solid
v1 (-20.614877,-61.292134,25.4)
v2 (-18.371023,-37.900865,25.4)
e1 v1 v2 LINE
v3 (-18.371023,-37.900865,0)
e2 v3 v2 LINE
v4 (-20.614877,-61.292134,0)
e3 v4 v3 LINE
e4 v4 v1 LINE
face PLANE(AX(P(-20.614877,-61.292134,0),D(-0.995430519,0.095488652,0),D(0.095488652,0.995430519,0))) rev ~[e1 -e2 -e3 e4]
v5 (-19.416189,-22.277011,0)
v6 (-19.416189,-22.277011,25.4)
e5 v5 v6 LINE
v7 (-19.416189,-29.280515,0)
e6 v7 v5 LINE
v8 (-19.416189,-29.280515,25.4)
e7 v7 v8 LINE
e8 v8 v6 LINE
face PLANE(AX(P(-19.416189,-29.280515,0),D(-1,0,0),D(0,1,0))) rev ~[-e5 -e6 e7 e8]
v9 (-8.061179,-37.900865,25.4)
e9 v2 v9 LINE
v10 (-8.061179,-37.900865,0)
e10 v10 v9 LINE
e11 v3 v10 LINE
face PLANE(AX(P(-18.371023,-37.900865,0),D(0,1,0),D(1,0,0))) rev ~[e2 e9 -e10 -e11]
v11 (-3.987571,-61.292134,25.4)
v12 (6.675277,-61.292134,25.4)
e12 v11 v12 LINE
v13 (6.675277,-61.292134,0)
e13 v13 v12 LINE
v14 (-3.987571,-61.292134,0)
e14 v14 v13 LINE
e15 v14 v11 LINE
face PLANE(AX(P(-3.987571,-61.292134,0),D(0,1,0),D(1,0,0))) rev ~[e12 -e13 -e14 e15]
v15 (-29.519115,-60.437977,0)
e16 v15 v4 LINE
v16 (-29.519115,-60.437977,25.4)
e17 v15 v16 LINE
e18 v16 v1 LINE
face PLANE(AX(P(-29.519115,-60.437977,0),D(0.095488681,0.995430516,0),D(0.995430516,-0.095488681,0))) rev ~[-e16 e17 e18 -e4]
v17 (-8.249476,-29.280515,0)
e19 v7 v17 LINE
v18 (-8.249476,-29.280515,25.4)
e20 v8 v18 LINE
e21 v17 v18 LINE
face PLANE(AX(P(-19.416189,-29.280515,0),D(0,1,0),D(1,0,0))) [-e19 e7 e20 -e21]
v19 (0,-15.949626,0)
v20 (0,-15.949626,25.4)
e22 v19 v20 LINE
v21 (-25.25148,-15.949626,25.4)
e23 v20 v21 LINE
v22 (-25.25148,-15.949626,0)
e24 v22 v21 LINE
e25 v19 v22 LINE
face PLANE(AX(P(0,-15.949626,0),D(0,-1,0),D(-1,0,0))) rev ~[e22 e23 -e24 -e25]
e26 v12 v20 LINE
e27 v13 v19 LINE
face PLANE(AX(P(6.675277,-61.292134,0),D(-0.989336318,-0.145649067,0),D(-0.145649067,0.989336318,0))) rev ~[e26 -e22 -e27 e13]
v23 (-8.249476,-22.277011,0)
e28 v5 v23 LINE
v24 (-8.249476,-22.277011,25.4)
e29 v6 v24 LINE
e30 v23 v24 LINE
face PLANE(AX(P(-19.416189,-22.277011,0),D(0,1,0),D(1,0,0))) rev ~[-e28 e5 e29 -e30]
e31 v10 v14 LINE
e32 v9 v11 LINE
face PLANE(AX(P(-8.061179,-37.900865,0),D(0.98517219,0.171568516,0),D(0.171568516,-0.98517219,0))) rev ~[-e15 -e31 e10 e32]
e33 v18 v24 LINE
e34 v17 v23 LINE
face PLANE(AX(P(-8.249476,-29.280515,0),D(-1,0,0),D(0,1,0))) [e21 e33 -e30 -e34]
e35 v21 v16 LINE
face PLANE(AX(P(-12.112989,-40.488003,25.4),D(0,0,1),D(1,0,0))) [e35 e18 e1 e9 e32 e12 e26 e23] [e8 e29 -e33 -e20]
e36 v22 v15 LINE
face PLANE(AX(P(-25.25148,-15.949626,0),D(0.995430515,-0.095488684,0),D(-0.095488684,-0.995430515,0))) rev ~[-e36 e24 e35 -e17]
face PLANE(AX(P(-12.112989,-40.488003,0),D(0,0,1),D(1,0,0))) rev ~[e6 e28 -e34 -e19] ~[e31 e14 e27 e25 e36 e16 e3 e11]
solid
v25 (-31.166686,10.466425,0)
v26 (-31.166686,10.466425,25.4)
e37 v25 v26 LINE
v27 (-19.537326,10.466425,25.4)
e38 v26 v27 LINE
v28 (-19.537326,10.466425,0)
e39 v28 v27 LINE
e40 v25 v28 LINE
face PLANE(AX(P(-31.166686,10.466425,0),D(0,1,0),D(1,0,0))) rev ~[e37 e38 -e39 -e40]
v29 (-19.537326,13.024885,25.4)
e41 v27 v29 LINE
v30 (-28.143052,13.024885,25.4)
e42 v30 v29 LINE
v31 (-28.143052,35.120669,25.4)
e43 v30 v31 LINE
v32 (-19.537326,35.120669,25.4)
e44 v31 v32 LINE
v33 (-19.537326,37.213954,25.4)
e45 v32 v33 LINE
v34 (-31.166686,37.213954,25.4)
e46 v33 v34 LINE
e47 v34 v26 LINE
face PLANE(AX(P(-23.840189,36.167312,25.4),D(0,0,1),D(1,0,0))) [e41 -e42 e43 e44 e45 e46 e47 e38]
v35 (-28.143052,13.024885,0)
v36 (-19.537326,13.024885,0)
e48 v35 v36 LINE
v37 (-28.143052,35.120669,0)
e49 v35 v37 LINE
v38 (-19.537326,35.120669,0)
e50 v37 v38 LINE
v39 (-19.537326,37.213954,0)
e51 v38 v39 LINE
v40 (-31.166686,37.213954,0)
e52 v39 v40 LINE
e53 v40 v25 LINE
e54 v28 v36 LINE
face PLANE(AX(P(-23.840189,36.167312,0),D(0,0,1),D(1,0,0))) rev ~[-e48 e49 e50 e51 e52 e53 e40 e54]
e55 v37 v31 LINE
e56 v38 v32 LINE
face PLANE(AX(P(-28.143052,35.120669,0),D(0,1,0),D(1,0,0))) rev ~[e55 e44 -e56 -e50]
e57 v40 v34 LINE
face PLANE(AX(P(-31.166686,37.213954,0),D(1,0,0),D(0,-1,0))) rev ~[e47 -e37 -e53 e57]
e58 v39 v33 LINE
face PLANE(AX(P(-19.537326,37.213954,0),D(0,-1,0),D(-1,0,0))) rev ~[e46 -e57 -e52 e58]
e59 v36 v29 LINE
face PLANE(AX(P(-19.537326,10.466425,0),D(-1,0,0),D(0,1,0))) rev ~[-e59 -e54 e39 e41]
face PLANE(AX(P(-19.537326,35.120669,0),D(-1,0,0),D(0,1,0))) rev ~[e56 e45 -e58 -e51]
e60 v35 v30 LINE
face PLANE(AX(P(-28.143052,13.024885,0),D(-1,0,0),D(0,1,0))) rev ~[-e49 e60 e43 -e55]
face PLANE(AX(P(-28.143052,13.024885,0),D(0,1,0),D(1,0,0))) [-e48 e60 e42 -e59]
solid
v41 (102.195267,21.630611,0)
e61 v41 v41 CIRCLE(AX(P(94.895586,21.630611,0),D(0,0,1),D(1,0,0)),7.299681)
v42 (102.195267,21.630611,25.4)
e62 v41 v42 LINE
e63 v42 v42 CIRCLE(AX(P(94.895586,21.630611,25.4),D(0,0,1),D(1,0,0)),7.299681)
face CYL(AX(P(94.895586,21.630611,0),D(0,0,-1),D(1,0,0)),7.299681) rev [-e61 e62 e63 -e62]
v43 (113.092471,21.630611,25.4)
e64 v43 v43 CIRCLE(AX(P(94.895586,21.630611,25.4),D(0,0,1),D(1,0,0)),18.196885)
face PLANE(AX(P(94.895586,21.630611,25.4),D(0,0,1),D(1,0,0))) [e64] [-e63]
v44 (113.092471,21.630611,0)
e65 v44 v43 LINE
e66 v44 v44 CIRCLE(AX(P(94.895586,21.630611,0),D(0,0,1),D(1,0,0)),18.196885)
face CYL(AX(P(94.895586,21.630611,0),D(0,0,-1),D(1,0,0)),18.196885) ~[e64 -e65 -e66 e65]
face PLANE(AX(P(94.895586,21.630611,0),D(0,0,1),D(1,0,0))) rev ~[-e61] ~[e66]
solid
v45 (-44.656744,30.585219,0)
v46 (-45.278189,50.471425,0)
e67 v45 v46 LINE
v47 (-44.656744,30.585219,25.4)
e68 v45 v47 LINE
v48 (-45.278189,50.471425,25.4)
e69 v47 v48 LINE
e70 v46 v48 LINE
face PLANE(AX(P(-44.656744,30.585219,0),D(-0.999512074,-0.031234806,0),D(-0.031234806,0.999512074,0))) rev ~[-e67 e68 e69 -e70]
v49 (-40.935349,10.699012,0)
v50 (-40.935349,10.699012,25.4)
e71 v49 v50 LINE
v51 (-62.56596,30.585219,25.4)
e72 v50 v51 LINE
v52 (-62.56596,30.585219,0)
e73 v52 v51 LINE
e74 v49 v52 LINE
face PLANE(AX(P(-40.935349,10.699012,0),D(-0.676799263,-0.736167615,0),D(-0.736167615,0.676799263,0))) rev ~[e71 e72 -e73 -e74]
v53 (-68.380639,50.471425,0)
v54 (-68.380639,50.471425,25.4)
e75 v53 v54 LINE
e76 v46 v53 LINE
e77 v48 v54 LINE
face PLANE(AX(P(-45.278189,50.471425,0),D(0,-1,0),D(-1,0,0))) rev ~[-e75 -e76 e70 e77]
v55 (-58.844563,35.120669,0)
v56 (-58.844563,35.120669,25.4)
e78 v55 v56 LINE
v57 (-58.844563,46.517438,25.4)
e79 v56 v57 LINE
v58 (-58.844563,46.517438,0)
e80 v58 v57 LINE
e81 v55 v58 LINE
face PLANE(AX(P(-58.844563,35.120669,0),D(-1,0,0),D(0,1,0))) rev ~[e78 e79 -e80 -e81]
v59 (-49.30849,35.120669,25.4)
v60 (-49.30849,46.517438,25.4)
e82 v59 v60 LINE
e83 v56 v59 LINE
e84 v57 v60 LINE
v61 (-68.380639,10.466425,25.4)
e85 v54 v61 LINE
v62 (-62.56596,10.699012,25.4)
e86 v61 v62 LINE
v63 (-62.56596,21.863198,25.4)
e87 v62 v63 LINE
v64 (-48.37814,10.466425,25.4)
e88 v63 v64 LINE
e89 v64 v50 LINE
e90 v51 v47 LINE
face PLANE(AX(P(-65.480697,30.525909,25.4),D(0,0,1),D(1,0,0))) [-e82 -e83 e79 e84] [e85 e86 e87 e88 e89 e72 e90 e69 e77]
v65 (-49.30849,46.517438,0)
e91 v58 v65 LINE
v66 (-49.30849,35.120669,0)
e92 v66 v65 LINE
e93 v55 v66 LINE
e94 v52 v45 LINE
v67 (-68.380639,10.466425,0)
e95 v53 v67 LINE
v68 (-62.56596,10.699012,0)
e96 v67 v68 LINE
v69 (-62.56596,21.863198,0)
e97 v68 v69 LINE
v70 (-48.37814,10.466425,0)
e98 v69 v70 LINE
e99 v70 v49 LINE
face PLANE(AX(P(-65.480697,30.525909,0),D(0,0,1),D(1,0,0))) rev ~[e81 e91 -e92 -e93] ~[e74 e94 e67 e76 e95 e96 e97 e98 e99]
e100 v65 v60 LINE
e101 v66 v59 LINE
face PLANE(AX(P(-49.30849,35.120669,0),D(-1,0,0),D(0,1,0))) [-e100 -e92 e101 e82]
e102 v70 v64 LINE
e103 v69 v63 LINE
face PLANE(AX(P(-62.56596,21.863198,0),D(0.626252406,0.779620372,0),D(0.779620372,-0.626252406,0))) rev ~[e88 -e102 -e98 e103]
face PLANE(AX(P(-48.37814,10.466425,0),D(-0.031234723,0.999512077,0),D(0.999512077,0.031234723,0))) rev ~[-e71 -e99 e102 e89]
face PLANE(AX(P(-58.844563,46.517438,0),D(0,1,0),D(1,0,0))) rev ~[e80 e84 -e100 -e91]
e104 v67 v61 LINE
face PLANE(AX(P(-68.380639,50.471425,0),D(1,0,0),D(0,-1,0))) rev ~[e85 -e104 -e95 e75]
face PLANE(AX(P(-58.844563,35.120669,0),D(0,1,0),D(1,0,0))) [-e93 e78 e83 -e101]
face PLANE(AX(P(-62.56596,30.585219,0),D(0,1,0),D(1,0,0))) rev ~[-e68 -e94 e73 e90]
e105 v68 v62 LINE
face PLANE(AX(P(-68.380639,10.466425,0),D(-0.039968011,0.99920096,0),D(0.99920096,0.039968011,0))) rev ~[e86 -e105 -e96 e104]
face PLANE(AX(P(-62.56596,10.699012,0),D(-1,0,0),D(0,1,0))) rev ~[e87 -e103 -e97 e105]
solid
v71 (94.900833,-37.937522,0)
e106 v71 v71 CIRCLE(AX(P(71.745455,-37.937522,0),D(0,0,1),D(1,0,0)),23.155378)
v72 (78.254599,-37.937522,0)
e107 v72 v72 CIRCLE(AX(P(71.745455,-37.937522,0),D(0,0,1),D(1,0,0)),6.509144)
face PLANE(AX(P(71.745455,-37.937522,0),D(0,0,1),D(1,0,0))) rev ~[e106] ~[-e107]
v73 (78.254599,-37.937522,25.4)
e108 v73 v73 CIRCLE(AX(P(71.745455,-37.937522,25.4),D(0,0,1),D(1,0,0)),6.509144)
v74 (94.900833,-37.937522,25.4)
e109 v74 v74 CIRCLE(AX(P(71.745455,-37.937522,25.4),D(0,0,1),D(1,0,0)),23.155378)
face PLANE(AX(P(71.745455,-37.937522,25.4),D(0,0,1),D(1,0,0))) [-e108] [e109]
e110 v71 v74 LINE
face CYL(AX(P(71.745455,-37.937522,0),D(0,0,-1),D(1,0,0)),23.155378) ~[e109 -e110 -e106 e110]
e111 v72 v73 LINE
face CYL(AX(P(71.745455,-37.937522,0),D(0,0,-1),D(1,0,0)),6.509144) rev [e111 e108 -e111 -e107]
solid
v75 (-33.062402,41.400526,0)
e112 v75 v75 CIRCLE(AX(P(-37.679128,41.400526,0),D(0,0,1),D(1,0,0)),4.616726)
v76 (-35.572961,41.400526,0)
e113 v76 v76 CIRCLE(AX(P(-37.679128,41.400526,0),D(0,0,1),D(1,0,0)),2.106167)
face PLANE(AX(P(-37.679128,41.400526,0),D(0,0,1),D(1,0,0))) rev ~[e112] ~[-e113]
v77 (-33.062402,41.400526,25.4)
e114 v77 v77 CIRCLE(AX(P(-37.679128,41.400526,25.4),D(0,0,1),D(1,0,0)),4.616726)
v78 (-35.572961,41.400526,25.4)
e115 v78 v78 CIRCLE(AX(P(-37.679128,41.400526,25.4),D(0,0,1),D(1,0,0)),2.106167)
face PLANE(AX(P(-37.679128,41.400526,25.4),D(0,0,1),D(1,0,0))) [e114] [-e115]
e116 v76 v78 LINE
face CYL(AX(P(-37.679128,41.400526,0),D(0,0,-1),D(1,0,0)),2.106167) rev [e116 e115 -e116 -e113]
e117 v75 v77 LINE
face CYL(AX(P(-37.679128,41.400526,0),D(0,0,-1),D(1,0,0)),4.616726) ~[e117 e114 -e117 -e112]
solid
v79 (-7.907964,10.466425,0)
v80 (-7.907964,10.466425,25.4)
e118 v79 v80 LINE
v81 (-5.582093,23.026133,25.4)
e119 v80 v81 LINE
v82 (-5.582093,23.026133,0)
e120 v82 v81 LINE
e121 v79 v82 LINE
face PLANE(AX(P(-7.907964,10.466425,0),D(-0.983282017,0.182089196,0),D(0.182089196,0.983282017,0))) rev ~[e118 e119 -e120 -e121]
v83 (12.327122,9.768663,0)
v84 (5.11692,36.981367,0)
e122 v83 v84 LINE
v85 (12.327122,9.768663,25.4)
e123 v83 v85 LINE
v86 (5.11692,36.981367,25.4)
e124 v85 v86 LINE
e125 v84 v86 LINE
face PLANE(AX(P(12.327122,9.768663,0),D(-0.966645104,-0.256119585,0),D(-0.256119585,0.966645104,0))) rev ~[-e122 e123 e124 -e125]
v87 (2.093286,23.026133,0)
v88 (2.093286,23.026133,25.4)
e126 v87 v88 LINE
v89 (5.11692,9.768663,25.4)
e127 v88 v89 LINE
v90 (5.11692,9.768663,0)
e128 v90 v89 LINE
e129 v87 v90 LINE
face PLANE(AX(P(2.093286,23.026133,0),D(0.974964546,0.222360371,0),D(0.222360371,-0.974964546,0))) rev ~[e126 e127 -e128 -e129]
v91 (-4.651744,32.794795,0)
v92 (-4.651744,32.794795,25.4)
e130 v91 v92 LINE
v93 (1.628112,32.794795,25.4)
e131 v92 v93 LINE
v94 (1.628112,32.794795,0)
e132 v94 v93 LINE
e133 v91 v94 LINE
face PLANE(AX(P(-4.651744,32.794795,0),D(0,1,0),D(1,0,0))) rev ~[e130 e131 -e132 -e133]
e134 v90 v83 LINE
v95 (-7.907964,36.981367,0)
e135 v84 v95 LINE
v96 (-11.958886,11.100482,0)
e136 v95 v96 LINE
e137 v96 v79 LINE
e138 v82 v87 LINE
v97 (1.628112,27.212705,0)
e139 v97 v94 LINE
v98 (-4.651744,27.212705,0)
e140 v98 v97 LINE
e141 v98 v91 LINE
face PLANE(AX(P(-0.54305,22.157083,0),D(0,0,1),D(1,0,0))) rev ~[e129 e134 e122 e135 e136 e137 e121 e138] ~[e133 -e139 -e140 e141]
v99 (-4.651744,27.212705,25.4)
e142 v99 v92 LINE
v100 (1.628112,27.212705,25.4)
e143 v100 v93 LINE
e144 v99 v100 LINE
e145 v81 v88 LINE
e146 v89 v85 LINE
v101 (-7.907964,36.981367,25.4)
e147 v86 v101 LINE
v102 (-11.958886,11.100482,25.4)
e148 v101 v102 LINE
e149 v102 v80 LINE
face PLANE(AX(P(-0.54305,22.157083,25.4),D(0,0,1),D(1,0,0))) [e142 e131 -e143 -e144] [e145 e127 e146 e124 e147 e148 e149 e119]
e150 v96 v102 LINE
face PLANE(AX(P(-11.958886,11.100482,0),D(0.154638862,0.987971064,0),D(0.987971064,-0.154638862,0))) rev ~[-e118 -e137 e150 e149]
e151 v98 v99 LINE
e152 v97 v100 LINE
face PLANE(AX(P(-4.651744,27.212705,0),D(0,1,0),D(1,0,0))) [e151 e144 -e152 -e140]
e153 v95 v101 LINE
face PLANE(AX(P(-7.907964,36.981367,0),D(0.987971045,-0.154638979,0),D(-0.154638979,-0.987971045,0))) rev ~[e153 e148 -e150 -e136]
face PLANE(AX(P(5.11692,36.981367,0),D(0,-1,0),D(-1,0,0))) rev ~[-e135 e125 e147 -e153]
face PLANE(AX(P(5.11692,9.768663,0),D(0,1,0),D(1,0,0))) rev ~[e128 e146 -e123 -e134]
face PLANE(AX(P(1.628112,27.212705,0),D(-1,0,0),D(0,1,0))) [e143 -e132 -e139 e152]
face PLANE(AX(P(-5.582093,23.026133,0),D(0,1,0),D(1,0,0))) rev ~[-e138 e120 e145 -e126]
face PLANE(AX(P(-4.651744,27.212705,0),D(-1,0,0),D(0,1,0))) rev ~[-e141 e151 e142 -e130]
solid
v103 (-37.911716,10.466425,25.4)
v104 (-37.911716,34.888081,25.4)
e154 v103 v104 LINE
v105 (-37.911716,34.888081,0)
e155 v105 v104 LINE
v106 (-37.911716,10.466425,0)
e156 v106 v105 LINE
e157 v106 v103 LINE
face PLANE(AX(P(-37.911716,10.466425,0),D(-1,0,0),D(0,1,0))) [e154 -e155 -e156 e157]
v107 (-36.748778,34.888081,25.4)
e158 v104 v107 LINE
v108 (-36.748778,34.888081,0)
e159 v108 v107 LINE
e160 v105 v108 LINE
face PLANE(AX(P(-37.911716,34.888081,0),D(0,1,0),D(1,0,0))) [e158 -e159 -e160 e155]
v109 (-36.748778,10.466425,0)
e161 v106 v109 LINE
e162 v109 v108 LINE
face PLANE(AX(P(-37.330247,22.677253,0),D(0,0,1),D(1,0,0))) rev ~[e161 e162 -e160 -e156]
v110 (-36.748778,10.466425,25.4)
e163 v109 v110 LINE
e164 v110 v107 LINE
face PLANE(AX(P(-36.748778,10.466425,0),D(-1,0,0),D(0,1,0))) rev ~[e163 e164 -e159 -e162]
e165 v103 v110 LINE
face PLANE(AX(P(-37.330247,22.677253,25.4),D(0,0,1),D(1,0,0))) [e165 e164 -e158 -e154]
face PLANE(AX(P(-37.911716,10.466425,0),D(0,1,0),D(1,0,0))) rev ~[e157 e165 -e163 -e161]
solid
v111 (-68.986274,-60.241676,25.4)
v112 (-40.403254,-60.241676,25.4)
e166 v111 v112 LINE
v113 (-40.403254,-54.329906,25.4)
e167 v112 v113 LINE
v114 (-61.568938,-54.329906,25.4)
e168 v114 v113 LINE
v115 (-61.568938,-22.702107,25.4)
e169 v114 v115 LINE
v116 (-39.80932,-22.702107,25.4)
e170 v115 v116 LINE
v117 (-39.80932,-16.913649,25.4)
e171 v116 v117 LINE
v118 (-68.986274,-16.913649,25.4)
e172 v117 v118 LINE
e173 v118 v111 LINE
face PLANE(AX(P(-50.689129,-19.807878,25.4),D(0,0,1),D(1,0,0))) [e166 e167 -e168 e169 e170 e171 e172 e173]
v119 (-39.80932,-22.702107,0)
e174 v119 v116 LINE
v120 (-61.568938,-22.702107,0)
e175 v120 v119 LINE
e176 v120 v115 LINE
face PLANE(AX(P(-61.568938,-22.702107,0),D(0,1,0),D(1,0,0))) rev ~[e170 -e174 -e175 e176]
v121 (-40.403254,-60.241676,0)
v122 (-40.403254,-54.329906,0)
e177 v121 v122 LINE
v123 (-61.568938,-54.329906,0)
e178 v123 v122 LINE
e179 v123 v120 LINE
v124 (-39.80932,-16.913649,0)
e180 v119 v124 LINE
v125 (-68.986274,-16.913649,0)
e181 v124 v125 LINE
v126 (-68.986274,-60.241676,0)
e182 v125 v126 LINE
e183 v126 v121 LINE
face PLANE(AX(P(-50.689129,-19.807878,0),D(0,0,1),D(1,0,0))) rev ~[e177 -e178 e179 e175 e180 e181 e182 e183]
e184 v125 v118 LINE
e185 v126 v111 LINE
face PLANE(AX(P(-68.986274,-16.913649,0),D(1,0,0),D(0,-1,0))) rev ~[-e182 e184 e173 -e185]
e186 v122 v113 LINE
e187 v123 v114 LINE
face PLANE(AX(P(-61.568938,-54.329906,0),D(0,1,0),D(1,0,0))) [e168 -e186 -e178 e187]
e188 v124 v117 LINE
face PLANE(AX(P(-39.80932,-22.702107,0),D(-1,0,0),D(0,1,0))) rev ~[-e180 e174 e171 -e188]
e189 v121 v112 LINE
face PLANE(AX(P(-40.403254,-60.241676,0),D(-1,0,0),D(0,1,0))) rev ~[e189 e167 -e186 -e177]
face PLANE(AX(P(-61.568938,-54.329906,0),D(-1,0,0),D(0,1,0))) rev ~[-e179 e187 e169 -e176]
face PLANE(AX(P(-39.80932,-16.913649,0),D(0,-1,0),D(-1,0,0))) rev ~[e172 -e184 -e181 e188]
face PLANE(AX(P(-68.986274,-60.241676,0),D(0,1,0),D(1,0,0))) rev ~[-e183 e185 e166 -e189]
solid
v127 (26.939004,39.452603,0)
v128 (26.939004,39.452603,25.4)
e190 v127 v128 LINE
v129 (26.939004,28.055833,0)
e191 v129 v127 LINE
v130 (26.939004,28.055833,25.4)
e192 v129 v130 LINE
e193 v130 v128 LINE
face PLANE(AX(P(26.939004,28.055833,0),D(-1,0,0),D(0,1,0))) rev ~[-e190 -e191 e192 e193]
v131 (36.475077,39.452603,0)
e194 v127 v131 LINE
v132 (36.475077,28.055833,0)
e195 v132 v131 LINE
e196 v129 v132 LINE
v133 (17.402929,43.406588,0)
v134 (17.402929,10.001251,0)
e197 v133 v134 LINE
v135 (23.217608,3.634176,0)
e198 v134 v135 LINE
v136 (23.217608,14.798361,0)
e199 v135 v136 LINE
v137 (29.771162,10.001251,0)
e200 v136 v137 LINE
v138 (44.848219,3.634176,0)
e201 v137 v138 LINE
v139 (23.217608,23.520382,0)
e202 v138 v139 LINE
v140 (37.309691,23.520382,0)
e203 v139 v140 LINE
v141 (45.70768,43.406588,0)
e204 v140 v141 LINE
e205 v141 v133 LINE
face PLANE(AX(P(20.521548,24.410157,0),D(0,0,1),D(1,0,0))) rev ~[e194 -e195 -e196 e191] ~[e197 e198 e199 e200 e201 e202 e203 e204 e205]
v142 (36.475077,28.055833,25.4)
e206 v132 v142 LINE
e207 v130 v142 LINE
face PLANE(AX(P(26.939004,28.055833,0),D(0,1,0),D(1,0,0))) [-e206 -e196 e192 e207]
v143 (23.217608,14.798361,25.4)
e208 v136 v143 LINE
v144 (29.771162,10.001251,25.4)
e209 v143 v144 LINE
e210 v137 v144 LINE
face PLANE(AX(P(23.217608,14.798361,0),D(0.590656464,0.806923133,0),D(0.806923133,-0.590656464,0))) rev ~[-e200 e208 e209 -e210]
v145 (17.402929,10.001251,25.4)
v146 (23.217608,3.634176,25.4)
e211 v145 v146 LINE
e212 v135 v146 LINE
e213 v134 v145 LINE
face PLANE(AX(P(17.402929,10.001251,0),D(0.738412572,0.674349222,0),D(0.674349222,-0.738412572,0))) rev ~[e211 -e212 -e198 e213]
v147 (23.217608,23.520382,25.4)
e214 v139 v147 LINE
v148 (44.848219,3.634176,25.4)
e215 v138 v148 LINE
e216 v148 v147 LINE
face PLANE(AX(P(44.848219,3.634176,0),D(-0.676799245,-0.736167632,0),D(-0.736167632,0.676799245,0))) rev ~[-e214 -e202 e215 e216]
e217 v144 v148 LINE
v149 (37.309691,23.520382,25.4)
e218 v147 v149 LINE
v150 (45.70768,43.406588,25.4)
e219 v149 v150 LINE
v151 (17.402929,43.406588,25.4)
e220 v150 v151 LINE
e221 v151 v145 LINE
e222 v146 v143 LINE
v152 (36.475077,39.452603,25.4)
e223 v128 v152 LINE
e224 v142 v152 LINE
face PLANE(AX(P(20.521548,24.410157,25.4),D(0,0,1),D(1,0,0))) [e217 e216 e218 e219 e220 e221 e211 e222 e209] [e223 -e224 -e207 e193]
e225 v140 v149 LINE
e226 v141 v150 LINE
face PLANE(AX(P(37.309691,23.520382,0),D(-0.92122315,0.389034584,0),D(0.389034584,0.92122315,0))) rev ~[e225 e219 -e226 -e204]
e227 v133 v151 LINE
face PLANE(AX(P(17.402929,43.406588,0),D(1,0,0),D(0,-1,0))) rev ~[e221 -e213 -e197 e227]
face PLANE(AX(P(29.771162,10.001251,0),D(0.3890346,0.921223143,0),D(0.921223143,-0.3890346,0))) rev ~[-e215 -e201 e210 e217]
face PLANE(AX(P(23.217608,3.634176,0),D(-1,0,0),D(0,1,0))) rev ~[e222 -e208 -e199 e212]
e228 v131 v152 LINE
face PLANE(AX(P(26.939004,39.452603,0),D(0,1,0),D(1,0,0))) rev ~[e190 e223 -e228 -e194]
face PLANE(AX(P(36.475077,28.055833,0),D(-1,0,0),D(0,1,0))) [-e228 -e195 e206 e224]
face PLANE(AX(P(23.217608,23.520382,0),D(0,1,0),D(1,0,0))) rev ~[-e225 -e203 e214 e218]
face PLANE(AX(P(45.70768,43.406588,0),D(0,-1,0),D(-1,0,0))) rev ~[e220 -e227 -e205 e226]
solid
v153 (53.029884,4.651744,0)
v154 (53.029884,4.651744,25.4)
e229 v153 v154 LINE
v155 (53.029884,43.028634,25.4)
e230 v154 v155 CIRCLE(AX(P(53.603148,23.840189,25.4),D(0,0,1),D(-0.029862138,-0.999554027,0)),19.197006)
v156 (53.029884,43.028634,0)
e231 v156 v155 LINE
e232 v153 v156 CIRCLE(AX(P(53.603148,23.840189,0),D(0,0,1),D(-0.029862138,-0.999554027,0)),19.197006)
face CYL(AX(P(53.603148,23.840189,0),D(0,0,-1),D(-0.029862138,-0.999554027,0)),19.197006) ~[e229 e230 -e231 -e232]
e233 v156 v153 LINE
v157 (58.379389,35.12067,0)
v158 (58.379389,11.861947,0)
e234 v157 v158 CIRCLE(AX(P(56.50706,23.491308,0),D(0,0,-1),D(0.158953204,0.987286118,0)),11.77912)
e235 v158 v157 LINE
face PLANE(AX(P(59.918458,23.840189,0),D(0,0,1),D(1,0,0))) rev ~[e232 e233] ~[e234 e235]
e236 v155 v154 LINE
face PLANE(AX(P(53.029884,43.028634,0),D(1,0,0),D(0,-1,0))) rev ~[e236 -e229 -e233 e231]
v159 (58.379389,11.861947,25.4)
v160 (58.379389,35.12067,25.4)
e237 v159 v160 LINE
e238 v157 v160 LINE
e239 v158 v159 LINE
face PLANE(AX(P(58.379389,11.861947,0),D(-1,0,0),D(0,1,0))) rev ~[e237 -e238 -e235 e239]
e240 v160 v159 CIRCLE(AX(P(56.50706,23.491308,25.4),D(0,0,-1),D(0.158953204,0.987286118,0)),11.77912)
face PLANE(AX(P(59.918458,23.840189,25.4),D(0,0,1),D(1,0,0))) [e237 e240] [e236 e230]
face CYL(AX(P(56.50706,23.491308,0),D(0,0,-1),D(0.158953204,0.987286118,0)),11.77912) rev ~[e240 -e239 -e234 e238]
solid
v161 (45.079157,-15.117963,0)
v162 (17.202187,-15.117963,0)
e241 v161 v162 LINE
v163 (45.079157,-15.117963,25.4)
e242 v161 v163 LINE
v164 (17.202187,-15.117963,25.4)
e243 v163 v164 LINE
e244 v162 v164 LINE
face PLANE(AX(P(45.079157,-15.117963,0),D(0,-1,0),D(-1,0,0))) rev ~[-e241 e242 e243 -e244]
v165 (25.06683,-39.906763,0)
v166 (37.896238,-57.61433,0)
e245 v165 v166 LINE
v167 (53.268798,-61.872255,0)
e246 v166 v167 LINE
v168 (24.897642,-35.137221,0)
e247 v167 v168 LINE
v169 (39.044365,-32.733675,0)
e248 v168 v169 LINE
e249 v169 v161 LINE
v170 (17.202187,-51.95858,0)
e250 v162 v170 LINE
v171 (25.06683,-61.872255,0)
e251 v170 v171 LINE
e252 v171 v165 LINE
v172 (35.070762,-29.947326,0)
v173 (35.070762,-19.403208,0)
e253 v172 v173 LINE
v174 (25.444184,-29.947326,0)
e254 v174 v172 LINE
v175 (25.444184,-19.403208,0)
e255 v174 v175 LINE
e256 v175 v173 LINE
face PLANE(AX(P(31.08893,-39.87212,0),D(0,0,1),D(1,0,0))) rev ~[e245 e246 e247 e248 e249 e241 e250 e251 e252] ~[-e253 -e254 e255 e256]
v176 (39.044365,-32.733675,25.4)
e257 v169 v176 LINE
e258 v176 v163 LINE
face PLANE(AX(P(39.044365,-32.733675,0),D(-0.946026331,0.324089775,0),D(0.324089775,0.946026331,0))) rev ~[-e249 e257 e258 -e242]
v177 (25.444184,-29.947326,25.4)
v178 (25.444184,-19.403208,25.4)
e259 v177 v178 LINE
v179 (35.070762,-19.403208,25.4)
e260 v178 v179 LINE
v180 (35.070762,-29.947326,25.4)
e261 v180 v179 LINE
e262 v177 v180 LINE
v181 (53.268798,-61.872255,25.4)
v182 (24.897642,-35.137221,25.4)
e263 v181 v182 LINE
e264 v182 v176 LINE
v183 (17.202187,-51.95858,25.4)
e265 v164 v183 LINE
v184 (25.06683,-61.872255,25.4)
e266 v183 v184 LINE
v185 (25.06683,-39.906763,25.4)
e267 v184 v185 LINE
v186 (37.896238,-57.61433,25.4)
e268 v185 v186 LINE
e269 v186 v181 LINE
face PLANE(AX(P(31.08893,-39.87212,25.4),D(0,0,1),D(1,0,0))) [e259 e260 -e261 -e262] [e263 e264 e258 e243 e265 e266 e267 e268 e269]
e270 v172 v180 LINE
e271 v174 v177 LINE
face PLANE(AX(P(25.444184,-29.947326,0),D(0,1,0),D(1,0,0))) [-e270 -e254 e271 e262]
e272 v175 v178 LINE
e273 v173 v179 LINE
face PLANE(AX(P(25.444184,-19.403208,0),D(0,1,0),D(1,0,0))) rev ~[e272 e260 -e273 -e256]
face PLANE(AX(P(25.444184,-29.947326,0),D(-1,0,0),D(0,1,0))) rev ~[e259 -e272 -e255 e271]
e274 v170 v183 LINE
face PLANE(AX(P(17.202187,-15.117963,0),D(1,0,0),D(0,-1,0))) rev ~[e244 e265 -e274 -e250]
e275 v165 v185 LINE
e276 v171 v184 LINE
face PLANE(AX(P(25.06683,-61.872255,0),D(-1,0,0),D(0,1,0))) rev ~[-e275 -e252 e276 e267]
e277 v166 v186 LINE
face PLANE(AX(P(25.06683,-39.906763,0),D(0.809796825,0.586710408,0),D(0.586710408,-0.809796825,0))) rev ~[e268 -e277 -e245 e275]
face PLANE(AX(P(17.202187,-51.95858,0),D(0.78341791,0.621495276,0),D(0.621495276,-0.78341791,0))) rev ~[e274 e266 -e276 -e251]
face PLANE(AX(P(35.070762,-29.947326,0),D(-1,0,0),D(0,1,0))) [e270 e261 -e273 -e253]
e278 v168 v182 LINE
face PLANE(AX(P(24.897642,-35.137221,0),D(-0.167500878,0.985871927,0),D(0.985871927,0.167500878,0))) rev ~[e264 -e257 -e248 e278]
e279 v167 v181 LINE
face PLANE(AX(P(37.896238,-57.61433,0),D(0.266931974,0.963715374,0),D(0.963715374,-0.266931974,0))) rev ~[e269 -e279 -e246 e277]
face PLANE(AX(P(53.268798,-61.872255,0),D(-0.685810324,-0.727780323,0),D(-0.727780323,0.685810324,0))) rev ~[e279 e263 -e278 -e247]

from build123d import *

# Parameters (mm, degrees)
F0_W     = 9.536073
F0_H     = 11.396769
F0_W_2   = 1.162939
F0_H_2   = 24.421656
F0_W_3   = 8.605726
F0_H_3   = 2.093285
F0_W_4   = 3.023634
F0_H_4   = 22.095786
F0_H_5   = 2.558459
F0_W_5   = 6.279856
F0_H_6   = 5.582091
F0_R     = 4.616726
F0_R_2   = 2.106167
F0_H_7   = 11.39677
F0_R_3   = 18.196885
F0_R_4   = 7.299681
F1_DEPTH = 25.4
F2_W     = 21.759618
F2_H     = 5.788458
F2_W_2   = 7.417336
F2_H_2   = 31.627799
F2_W_3   = 21.165684
F2_H_3   = 5.911771
F2_W_4   = 11.166713
F2_H_4   = 7.003504
F2_W_5   = 9.626577
F2_H_5   = 10.544119
F2_R     = 23.155378
F2_R_2   = 6.509144
F3_DEPTH = 25.4


with BuildPart() as f1:
    # F0 (on Top) → F1 (new body)
    with BuildSketch(Plane.XY):
        Polygon((-62.56596, 50.471425), (-68.380639, 50.471425), (-68.380639, 10.466425), (-62.56596, 10.699012), (-62.56596, 21.863198), (-62.56596, 30.585219), align=None)
        Polygon((-45.278189, 50.471425), (-62.56596, 50.471425), (-62.56596, 30.585219), (-44.656744, 30.585219), align=None)
        with Locations((-54.076526, 40.819054)):
            Rectangle(F0_W, F0_H, mode=Mode.SUBTRACT)
        Polygon((-40.935349, 10.699012), (-62.56596, 30.585219), (-62.56596, 21.863198), (-48.37814, 10.466425), align=None)
        with Locations((-37.330247, 22.677253)):
            Rectangle(F0_W_2, F0_H_2)
        with Locations((-23.840189, 36.167312)):
            Rectangle(F0_W_3, F0_H_3)
        with Locations((-29.654869, 36.167312)):
            Rectangle(F0_W_4, F0_H_3)
        with Locations((-29.654869, 24.072777)):
            Rectangle(F0_W_4, F0_H_4)
        with Locations((-23.840189, 11.745655)):
            Rectangle(F0_W_3, F0_H_5)
        with Locations((-29.654869, 11.745655)):
            Rectangle(F0_W_4, F0_H_5)
        Polygon((-7.907964, 36.981367), (-11.958886, 11.100482), (-7.907964, 10.466425), (-5.582093, 23.026133), (2.093286, 23.026133), (5.11692, 9.768663), (12.327122, 9.768663), (5.11692, 36.981367), align=None)
        with Locations((-1.511816, 30.00375)):
            Rectangle(F0_W_5, F0_H_6, mode=Mode.SUBTRACT)
        with Locations((-37.679128, 41.400526)):
            Circle(F0_R)
        with Locations((-37.679128, 41.400526)):
            Circle(F0_R_2, mode=Mode.SUBTRACT)
        Polygon((23.217608, 43.406588), (17.402929, 43.406588), (17.402929, 10.001251), (23.217608, 3.634176), (23.217608, 14.798361), (23.217608, 23.520382), align=None)
        Polygon((45.70768, 43.406588), (23.217608, 43.406588), (23.217608, 23.520382), (37.309691, 23.520382), align=None)
        with Locations((31.707041, 33.754218)):
            Rectangle(F0_W, F0_H_7, mode=Mode.SUBTRACT)
        Polygon((44.848219, 3.634176), (23.217608, 23.520382), (23.217608, 14.798361), (29.771162, 10.001251), align=None)
        with BuildLine():
            ThreePointArc((53.029884, 4.651744), (72.800154, 23.840189), (53.029884, 43.028634))
            Line((53.029884, 43.028634), (53.029884, 4.651744))
        make_face()
        with BuildLine():
            Line((58.379389, 11.861947), (58.379389, 35.12067))
            ThreePointArc((58.379389, 35.12067), (68.28618, 23.491309), (58.379389, 11.861947))
        make_face(mode=Mode.SUBTRACT)
        with Locations((94.895586, 21.630611)):
            Circle(F0_R_3)
        with Locations((94.895586, 21.630611)):
            Circle(F0_R_4, mode=Mode.SUBTRACT)
    extrude(amount=F1_DEPTH)


with BuildPart() as f3:
    # F2 (on Top) → F3 (new body)
    with BuildSketch(Plane.XY):
        with Locations((-50.689129, -19.807878)):
            Rectangle(F2_W, F2_H)
        with Locations((-65.277606, -19.807878)):
            Rectangle(F2_W_2, F2_H)
        with Locations((-65.277606, -38.516006)):
            Rectangle(F2_W_2, F2_H_2)
        with Locations((-50.986096, -57.285791)):
            Rectangle(F2_W_3, F2_H_3)
        with Locations((-65.277606, -57.285791)):
            Rectangle(F2_W_2, F2_H_3)
        Polygon((-25.25148, -15.949626), (-29.519115, -60.437977), (-20.614877, -61.292134), (-18.371023, -37.900865), (-8.061179, -37.900865), (-3.987571, -61.292134), (6.675277, -61.292134), (0, -15.949626), align=None)
        with Locations((-13.832832, -25.778763)):
            Rectangle(F2_W_4, F2_H_4, mode=Mode.SUBTRACT)
        Polygon((45.079157, -15.117963), (17.202187, -15.117963), (17.202187, -51.95858), (25.06683, -61.872255), (25.06683, -39.906763), (37.896238, -57.61433), (53.268798, -61.872255), (24.897642, -35.137221), (39.044365, -32.733675), align=None)
        with Locations((30.257473, -24.675267)):
            Rectangle(F2_W_5, F2_H_5, mode=Mode.SUBTRACT)
        with Locations((71.745455, -37.937522)):
            Circle(F2_R)
        with Locations((71.745455, -37.937522)):
            Circle(F2_R_2, mode=Mode.SUBTRACT)
    extrude(amount=F3_DEPTH)


solid = Compound([f1.part, f3.part])
